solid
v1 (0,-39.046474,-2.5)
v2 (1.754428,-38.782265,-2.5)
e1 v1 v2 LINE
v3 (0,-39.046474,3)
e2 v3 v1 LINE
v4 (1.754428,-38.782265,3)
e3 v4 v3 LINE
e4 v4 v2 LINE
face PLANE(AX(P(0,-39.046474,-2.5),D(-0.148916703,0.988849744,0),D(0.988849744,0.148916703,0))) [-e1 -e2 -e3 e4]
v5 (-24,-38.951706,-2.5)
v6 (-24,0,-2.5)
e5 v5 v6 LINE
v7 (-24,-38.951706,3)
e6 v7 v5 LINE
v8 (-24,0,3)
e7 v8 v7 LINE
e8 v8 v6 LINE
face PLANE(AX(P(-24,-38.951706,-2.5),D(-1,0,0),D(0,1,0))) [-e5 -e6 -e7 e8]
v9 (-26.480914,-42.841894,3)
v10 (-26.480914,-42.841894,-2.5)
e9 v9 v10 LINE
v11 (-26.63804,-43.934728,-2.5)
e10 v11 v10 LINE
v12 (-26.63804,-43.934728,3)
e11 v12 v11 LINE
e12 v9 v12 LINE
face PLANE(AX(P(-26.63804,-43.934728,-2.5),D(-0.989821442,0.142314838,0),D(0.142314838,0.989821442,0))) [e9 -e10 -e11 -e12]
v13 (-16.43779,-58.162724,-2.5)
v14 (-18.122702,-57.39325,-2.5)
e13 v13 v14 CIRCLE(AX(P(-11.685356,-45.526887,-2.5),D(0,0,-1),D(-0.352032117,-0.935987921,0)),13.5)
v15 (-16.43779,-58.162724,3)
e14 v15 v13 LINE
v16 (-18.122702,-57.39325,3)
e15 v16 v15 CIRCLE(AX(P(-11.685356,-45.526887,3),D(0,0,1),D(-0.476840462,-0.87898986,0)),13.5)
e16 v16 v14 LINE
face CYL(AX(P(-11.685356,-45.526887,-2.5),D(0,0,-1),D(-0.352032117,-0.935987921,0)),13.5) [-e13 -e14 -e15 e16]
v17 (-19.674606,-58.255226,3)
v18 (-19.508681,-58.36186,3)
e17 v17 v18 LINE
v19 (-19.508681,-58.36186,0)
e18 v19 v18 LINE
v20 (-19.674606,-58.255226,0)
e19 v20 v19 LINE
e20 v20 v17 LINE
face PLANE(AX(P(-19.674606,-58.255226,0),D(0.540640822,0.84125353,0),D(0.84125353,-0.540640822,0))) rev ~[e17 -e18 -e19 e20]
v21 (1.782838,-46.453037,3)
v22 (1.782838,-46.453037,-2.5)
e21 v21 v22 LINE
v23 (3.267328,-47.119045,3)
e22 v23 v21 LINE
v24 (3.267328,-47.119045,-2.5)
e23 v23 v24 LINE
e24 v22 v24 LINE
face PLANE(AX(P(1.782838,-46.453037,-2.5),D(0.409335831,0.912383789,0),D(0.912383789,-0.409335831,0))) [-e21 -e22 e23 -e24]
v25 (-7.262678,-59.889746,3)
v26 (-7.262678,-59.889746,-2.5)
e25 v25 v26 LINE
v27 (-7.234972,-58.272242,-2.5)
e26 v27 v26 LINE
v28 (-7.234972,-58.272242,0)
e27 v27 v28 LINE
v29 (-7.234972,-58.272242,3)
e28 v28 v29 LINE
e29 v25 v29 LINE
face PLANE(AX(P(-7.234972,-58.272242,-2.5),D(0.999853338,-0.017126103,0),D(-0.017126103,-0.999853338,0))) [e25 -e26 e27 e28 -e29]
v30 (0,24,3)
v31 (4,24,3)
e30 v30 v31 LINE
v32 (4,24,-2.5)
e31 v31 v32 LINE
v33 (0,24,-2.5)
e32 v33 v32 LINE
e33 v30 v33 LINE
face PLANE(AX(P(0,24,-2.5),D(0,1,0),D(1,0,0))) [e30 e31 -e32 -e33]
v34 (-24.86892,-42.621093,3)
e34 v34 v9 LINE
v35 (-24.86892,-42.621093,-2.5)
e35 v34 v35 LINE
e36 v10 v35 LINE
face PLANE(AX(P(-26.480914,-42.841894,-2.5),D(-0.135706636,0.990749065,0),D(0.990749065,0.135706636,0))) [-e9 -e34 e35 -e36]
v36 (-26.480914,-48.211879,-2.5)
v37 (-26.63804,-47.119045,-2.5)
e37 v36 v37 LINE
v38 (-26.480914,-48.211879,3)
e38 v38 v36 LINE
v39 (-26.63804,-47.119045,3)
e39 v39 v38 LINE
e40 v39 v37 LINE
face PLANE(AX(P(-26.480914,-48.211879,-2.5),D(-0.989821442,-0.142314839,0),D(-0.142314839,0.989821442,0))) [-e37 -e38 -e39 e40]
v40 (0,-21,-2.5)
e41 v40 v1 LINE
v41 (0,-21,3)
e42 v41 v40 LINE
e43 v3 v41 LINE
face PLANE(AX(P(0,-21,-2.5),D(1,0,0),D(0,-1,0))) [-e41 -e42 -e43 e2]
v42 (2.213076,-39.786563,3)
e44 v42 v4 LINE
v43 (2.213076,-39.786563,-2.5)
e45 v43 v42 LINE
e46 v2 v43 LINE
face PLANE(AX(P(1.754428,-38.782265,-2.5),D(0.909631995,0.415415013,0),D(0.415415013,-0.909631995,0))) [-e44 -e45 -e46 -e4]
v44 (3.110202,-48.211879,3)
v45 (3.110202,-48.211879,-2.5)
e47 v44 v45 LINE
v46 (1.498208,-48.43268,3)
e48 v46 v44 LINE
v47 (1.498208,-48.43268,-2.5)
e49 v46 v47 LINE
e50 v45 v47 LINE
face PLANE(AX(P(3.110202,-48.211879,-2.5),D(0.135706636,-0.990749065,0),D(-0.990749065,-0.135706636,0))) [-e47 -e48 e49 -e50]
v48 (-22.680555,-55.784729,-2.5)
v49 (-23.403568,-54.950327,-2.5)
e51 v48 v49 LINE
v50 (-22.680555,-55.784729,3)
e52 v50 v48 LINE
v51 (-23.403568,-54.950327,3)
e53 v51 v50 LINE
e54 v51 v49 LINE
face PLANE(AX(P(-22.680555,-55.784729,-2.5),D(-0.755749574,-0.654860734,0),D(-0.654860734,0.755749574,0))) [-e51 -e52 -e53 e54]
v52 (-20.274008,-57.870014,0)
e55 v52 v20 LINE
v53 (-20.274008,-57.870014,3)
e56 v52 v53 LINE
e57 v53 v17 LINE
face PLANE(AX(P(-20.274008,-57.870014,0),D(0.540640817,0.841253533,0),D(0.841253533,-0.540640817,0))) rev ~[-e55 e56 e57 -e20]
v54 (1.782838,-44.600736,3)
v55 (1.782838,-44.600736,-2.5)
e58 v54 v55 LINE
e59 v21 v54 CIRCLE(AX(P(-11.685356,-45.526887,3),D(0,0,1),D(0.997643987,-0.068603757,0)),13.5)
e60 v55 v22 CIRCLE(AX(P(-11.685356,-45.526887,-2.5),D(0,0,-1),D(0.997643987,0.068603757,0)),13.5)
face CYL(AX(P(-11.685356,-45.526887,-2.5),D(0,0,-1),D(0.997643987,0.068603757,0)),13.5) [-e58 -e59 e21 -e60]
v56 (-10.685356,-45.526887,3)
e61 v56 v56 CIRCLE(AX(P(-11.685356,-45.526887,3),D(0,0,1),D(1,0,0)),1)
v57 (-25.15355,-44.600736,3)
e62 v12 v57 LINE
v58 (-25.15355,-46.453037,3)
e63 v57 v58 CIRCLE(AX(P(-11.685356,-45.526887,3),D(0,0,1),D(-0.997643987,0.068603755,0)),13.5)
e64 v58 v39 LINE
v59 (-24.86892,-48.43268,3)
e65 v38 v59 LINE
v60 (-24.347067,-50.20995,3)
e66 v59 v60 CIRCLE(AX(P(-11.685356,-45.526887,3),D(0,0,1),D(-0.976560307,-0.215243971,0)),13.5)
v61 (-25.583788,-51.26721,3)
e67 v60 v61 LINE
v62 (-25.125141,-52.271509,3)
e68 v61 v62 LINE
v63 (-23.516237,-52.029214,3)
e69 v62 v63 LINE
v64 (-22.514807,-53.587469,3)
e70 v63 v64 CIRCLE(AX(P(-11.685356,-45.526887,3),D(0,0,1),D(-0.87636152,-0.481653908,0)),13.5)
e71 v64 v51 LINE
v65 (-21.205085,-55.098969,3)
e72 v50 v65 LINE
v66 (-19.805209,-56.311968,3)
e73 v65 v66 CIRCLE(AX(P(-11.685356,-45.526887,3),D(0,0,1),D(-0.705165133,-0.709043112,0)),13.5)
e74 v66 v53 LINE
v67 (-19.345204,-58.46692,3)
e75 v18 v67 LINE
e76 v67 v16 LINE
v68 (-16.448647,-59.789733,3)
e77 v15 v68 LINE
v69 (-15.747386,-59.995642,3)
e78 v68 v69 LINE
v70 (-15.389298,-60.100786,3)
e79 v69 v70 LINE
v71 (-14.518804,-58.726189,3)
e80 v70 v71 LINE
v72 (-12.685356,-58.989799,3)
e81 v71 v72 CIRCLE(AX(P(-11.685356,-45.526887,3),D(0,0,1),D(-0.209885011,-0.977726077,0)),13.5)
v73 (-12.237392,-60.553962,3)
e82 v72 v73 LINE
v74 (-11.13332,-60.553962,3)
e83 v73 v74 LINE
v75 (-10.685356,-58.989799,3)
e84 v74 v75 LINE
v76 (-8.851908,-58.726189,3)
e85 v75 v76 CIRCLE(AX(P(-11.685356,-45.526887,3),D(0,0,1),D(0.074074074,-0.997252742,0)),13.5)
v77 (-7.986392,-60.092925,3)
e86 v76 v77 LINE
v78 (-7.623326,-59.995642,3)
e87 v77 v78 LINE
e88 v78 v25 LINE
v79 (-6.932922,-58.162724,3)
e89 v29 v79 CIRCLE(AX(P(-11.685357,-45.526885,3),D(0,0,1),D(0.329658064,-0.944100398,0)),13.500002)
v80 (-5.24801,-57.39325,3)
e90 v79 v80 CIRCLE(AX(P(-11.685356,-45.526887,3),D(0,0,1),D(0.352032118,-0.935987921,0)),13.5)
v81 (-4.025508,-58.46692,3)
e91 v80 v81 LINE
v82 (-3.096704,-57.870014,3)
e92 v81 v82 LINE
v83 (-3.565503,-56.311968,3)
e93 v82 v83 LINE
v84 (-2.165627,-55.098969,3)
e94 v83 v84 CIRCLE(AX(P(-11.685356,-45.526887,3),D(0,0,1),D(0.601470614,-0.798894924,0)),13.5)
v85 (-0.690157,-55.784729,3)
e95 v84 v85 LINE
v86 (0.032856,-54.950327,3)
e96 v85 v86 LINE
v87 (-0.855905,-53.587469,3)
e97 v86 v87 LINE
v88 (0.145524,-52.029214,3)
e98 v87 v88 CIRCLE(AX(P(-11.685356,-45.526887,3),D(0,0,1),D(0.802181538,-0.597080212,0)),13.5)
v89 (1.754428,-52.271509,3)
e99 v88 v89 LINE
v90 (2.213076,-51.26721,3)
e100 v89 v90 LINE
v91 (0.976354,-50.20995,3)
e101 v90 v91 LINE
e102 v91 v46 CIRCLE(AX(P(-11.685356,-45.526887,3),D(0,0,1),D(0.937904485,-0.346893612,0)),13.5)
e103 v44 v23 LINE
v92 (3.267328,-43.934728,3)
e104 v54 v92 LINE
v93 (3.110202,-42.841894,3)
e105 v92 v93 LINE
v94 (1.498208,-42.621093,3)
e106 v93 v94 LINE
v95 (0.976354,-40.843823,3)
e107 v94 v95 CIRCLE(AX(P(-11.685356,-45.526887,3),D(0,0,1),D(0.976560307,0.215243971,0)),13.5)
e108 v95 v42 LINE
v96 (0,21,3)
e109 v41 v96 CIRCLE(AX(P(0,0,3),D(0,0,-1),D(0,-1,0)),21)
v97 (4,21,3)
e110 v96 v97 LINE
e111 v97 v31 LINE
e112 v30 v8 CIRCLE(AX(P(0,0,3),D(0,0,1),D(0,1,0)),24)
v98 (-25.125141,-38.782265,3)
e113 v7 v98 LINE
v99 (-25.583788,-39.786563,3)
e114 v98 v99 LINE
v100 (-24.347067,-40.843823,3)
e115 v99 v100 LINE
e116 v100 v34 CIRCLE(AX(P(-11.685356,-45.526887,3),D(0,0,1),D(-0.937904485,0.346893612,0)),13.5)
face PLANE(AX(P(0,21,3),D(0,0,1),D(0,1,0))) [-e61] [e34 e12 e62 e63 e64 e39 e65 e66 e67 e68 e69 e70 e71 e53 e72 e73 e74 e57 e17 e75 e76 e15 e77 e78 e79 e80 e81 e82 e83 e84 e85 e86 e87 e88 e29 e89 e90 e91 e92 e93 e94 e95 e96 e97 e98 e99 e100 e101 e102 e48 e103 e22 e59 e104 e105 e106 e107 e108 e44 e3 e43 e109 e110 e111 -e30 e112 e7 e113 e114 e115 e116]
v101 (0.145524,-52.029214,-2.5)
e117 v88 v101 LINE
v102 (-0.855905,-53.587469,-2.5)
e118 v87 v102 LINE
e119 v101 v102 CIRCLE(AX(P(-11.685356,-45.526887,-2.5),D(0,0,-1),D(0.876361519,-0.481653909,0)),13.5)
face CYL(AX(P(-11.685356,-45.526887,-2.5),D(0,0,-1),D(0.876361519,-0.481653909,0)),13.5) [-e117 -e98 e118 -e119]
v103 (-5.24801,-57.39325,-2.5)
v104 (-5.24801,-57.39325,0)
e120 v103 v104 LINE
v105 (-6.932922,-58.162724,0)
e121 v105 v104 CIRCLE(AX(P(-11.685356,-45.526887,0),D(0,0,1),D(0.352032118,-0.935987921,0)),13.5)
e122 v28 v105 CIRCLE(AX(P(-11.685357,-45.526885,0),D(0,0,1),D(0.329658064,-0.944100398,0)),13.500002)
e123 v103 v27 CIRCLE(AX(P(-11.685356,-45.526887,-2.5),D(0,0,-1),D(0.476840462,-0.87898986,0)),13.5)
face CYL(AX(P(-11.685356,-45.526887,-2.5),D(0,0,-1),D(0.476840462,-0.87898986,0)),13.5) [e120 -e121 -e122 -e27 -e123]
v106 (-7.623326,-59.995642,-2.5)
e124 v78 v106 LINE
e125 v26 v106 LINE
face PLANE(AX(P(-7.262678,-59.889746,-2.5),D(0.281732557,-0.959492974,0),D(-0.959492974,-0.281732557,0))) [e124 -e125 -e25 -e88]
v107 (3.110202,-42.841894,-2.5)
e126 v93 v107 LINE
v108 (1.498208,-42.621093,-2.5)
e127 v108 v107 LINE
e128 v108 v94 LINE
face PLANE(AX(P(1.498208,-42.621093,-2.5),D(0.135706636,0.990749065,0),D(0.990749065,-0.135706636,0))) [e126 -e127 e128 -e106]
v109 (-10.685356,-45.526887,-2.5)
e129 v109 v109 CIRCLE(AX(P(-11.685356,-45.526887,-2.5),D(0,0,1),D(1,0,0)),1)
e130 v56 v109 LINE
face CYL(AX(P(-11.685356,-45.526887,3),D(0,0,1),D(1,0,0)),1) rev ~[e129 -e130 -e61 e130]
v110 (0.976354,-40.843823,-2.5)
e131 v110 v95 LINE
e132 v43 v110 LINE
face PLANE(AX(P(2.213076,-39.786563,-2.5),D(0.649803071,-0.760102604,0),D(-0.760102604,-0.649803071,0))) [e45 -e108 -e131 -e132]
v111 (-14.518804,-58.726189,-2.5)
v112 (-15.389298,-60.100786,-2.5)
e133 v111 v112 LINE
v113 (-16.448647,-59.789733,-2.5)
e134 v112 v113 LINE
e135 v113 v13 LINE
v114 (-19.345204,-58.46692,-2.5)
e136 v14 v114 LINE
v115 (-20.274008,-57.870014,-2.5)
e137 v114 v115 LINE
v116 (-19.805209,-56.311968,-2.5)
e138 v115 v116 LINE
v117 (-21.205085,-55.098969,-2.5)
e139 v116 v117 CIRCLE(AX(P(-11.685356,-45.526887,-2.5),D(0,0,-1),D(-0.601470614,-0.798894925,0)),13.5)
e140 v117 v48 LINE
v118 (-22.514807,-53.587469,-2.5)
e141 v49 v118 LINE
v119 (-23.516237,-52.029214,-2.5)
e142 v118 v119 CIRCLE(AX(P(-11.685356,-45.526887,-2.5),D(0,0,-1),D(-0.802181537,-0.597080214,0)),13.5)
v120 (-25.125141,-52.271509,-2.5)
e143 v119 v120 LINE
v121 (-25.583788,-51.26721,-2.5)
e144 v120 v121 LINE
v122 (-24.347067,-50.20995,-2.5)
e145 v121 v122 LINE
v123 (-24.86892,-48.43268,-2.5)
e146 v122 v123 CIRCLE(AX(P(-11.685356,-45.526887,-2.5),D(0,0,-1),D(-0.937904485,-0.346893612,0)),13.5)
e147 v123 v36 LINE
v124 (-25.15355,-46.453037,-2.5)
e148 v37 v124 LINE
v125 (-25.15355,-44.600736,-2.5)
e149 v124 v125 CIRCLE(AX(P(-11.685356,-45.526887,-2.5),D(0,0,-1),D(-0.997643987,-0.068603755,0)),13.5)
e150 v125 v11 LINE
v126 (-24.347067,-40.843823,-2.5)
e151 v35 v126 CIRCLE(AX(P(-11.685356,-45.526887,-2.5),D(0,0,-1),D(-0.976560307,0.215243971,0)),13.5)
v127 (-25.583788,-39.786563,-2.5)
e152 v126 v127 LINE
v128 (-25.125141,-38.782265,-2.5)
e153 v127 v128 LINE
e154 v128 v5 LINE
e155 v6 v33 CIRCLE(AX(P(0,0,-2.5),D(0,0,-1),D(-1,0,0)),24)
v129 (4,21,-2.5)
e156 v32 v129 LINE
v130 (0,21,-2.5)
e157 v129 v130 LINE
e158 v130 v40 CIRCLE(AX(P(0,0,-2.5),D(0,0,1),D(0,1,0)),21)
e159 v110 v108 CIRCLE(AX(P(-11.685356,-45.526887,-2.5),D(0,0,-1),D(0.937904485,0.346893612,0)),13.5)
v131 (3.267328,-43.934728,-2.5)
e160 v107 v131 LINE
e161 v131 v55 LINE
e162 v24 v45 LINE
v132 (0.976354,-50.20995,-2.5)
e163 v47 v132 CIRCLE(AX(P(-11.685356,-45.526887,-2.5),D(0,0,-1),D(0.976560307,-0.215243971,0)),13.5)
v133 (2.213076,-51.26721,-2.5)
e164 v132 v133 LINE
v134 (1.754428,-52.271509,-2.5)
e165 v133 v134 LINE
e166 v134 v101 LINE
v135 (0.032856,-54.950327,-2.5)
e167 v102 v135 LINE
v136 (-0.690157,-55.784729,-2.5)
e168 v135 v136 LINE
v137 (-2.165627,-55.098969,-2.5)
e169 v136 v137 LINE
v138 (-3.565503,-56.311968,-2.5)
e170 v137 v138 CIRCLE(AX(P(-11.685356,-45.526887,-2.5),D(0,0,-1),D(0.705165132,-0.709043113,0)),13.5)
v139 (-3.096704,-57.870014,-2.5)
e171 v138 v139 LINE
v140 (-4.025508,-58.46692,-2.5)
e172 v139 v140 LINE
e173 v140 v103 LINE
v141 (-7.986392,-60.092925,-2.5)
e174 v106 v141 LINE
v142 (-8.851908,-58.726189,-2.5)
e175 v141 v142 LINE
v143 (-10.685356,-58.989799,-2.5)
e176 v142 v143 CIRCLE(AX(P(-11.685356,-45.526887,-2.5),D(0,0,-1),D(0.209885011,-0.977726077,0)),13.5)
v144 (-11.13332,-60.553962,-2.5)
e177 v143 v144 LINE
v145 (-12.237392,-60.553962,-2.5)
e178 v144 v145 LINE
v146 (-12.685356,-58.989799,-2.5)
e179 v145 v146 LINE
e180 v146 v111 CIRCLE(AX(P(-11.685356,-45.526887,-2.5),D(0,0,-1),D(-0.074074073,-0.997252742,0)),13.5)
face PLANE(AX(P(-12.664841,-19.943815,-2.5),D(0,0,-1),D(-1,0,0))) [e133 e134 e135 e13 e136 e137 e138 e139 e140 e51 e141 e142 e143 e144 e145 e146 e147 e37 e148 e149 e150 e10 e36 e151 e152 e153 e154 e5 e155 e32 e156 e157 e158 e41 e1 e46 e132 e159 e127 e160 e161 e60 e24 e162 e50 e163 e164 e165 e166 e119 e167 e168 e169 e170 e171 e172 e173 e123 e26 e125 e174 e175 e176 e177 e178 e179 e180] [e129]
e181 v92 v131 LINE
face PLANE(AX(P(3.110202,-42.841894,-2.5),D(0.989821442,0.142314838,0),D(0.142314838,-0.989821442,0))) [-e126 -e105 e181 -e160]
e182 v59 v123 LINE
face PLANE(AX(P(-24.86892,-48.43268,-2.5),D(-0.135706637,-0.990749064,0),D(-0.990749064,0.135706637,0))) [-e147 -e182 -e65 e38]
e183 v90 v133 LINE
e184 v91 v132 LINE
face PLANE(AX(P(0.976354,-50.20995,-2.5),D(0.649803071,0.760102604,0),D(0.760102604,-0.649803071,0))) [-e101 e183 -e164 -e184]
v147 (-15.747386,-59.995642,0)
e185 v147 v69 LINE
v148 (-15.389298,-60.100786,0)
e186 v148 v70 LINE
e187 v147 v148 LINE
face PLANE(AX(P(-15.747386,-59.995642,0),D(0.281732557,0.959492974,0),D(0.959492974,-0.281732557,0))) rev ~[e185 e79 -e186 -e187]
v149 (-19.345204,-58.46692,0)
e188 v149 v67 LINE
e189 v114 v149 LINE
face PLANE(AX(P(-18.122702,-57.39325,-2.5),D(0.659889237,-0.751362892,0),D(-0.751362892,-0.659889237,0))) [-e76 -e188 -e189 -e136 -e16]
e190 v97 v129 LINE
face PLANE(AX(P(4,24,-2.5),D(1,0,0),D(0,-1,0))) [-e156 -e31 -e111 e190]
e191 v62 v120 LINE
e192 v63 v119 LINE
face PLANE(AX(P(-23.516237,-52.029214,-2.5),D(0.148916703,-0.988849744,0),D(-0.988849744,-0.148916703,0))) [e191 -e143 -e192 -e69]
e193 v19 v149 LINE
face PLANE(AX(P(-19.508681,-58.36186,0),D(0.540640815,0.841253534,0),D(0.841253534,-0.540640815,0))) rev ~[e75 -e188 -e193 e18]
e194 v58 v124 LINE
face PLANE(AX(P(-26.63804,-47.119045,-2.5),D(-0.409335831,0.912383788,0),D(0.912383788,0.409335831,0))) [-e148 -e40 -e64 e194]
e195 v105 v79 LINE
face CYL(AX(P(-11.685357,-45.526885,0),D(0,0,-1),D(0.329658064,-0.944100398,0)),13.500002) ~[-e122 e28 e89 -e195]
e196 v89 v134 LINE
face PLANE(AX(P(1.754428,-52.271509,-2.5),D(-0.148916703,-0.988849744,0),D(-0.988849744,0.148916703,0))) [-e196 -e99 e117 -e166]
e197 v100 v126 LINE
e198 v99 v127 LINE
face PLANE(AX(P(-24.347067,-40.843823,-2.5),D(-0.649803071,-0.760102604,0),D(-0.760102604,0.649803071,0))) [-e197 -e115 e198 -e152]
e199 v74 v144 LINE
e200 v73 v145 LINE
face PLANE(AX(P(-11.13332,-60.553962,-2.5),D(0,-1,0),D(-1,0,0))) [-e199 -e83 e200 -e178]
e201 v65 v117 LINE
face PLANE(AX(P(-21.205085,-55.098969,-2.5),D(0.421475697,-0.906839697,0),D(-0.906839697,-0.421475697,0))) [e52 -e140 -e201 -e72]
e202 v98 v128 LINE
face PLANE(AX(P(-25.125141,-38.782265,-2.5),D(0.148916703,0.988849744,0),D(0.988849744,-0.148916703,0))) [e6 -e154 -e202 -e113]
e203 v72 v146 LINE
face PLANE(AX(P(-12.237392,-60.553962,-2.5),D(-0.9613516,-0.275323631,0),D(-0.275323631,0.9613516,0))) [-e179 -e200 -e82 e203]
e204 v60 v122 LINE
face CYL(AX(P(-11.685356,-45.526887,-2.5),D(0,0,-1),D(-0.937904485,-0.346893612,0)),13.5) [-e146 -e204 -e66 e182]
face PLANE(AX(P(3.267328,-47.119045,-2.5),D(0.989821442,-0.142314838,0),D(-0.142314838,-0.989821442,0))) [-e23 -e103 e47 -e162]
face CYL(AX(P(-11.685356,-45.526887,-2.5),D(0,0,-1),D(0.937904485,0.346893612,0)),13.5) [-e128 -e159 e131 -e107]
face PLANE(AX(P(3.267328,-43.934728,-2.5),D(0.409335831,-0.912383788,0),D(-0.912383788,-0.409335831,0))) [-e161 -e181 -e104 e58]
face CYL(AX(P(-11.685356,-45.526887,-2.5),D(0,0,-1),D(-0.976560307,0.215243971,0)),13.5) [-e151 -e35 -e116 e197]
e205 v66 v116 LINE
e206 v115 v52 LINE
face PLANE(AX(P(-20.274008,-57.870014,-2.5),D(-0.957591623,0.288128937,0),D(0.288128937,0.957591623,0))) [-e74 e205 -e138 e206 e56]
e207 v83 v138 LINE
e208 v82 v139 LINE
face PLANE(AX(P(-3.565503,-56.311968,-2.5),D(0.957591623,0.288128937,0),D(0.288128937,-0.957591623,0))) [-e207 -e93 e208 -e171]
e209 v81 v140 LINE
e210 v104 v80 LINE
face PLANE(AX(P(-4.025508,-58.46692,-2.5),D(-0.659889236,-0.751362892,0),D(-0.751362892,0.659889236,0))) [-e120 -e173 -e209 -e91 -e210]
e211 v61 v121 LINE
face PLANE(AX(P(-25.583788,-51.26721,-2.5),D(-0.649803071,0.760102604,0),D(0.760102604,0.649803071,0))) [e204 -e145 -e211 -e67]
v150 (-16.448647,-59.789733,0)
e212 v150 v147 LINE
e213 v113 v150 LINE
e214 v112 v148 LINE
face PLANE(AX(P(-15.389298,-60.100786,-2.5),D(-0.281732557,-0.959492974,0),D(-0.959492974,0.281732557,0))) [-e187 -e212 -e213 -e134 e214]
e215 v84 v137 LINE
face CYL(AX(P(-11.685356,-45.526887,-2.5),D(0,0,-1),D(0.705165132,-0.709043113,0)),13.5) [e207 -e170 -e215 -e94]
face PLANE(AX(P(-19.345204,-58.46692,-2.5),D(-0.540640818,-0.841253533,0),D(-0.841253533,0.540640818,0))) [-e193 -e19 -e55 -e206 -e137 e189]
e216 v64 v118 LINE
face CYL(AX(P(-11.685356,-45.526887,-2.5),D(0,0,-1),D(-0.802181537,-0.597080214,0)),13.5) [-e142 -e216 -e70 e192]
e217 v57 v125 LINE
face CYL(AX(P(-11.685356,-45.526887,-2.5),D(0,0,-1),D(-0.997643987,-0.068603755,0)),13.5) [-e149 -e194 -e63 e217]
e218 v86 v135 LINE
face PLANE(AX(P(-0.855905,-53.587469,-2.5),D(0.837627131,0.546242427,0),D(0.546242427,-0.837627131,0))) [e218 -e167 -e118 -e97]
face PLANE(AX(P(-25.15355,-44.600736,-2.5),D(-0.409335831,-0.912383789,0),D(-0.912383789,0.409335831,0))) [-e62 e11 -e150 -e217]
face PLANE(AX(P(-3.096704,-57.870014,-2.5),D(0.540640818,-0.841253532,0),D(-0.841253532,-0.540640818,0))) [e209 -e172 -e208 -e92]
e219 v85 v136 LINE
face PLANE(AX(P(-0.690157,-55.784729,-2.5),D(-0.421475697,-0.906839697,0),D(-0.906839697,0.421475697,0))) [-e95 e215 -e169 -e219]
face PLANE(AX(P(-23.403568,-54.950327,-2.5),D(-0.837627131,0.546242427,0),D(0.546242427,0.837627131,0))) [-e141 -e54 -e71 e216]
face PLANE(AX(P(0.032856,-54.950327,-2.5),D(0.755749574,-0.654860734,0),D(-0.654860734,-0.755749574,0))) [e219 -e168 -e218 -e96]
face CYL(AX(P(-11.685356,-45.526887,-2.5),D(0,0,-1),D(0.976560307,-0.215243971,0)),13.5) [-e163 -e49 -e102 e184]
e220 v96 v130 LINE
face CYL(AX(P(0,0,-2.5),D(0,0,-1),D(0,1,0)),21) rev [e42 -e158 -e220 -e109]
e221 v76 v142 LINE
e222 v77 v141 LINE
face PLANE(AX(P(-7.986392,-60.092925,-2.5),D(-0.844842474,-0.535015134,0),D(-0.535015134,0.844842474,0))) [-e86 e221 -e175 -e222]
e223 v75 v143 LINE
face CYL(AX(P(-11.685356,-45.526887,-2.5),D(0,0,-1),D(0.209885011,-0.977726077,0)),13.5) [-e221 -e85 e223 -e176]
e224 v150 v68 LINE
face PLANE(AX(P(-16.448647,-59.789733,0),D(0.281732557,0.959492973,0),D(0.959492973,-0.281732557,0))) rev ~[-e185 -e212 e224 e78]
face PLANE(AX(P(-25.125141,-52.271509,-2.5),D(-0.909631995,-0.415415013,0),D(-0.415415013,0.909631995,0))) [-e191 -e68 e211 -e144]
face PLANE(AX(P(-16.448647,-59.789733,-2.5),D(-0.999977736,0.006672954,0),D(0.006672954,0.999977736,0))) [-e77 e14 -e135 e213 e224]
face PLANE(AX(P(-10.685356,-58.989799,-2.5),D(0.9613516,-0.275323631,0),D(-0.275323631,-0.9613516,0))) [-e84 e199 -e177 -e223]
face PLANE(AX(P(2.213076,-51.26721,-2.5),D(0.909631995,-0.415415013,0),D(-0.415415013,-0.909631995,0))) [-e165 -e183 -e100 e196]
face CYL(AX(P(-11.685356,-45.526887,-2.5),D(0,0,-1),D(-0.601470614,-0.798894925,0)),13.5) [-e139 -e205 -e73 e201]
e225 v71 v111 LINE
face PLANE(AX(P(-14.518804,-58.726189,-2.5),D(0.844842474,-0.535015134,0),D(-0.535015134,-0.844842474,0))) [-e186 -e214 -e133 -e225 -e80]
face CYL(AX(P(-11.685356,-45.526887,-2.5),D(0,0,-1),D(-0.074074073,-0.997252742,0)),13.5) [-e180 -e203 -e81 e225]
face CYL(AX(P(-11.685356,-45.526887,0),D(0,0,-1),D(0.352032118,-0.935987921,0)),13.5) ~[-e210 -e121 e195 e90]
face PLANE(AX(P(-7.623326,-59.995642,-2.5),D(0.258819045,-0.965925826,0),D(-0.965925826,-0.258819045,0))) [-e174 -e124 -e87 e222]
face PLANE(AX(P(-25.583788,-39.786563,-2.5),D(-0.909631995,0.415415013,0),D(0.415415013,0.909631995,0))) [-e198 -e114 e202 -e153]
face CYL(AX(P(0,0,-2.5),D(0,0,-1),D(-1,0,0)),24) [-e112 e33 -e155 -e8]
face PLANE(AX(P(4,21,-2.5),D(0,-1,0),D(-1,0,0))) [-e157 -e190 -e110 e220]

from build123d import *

# Parameters (mm, degrees)
BOSS_EXTRUDE1_DEPTH = 3
SKETCH3_W           = 3
SKETCH3_H           = 3
BOSS_EXTRUDE2_DEPTH = 4
BOSS_EXTRUDE3_START = 2.5
BOSS_EXTRUDE3_DEPTH = 2.5
CUT_EXTRUDE1_REACH  = 68.382
SKETCH5_R           = 1


with BuildPart() as part:
    # Sketch1 → Boss-Extrude1 (new body)
    with BuildSketch(Plane.XY):
        with BuildLine():
            ThreePointArc((0, -21), (-21, 0), (0, 21))
            Line((0, 21), (0, 24))
            ThreePointArc((0, 24), (-16.970562748, 16.970562748), (-24, 0))
            Line((-24, 0), (-24, -38.951706039))
            Line((-24, -38.951706039), (-25.1251405, -38.782264509))
            Line((-25.1251405, -38.782264509), (-25.583788433, -39.786563393))
            Line((-25.583788433, -39.786563393), (-24.347066616, -40.843822809))
            ThreePointArc((-24.347066616, -40.843822809), (-24.638511224, -41.723497067), (-24.868920228, -42.621092996))
            Line((-24.868920228, -42.621092996), (-26.480914421, -42.841893921))
            Line((-26.480914421, -42.841893921), (-26.638040197, -43.934727699))
            Line((-26.638040197, -43.934727699), (-25.153549904, -44.60073588))
            ThreePointArc((-25.153549904, -44.60073588), (-25.18535608, -45.526886585), (-25.153549904, -46.453037289))
            Line((-25.153549904, -46.453037289), (-26.638040197, -47.119045471))
            Line((-26.638040197, -47.119045471), (-26.48091442, -48.211879248))
            Line((-26.48091442, -48.211879248), (-24.868920228, -48.432680173))
            ThreePointArc((-24.868920228, -48.432680173), (-24.638511224, -49.330276102), (-24.347066616, -50.20995036))
            Line((-24.347066616, -50.20995036), (-25.583788433, -51.267209776))
            Line((-25.583788433, -51.267209776), (-25.1251405, -52.271508661))
            Line((-25.1251405, -52.271508661), (-23.516236589, -52.029214351))
            ThreePointArc((-23.516236589, -52.029214351), (-23.042278774, -52.82553762), (-22.514806841, -53.587469455))
            Line((-22.514806841, -53.587469455), (-23.403568337, -54.950327236))
            Line((-23.403568337, -54.950327236), (-22.680555175, -55.784728904))
            Line((-22.680555175, -55.784728904), (-21.205085373, -55.098968604))
            ThreePointArc((-21.205085373, -55.098968604), (-20.525975989, -55.729505838), (-19.805209372, -56.311968064))
            Line((-19.805209372, -56.311968064), (-20.274008375, -57.870013577))
            Line((-20.274008375, -57.870013577), (-19.674605945, -58.255226128))
            Line((-19.674605945, -58.255226128), (-19.50868057, -58.361859893))
            Line((-19.50868057, -58.361859893), (-19.345204211, -58.466919769))
            Line((-19.345204211, -58.466919769), (-18.122702306, -57.393249699))
            ThreePointArc((-18.122702306, -57.393249699), (-17.293458756, -57.806918522), (-16.437789679, -58.162723513))
            Line((-16.437789679, -58.162723513), (-16.448646882, -59.789733177))
            Line((-16.448646882, -59.789733177), (-15.747386057, -59.995641934))
            Line((-15.747386057, -59.995641934), (-15.389297906, -60.100786102))
            Line((-15.389297906, -60.100786102), (-14.518803732, -58.726188627))
            ThreePointArc((-14.518803732, -58.726188627), (-13.606606397, -58.88947605), (-12.68535608, -58.989798602))
            Line((-12.68535608, -58.989798602), (-12.237391898, -60.553961771))
            Line((-12.237391898, -60.553961771), (-11.133320263, -60.553961771))
            Line((-11.133320263, -60.553961771), (-10.68535608, -58.989798602))
            ThreePointArc((-10.68535608, -58.989798602), (-9.764105764, -58.88947605), (-8.851908429, -58.726188627))
            Line((-8.851908429, -58.726188627), (-7.986392322, -60.092925234))
            Line((-7.986392322, -60.092925234), (-7.623326104, -59.995641934))
            Line((-7.623326104, -59.995641934), (-7.262677826, -59.889746045))
            Line((-7.262677826, -59.889746045), (-7.234972221, -58.272241954))
            ThreePointArc((-7.234972221, -58.272241954), (-7.083621531, -58.21838134), (-6.932922481, -58.162723513))
            ThreePointArc((-6.932922481, -58.162723513), (-6.077253405, -57.806918522), (-5.248009855, -57.393249699))
            Line((-5.248009855, -57.393249699), (-4.025507949, -58.466919769))
            Line((-4.025507949, -58.466919769), (-3.096703786, -57.870013577))
            Line((-3.096703786, -57.870013577), (-3.565502789, -56.311968064))
            ThreePointArc((-3.565502789, -56.311968064), (-2.844736172, -55.729505838), (-2.165626787, -55.098968604))
            Line((-2.165626787, -55.098968604), (-0.690156985, -55.784728904))
            Line((-0.690156985, -55.784728904), (0.032856176, -54.950327236))
            Line((0.032856176, -54.950327236), (-0.855905319, -53.587469455))
            ThreePointArc((-0.855905319, -53.587469455), (-0.328433387, -52.82553762), (0.145524429, -52.029214351))
            Line((0.145524429, -52.029214351), (1.754428339, -52.27150866))
            Line((1.754428339, -52.27150866), (2.213076272, -51.267209776))
            Line((2.213076272, -51.267209776), (0.976354455, -50.20995036))
            ThreePointArc((0.976354455, -50.20995036), (1.267799063, -49.330276102), (1.498208067, -48.432680173))
            Line((1.498208067, -48.432680173), (3.11020226, -48.211879248))
            Line((3.11020226, -48.211879248), (3.267328036, -47.11904547))
            Line((3.267328036, -47.11904547), (1.782837743, -46.453037289))
            ThreePointArc((1.782837743, -46.453037289), (1.81464392, -45.526886584), (1.782837743, -44.60073588))
            Line((1.782837743, -44.60073588), (3.267328036, -43.934727698))
            Line((3.267328036, -43.934727698), (3.11020226, -42.84189392))
            Line((3.11020226, -42.84189392), (1.498208067, -42.621092996))
            ThreePointArc((1.498208067, -42.621092996), (1.267799063, -41.723497067), (0.976354455, -40.843822809))
            Line((0.976354455, -40.843822809), (2.213076272, -39.786563393))
            Line((2.213076272, -39.786563393), (1.754428339, -38.782264508))
            Line((1.754428339, -38.782264508), (0, -39.046474198))
            Line((0, -39.046474198), (0, -36.153828735))
            Line((0, -36.153828735), (0, -36.065527885))
            Line((0, -36.065527885), (0, -21))
        make_face()
    extrude(amount=BOSS_EXTRUDE1_DEPTH)

    # Sketch3 → Boss-Extrude2 (add)
    with BuildSketch(Plane(origin=(0, 0, 0), x_dir=(0, 0, -1), z_dir=(1, 0, 0))):
        with Locations((-1.5, 22.5)):
            Rectangle(SKETCH3_W, SKETCH3_H)
    extrude(amount=BOSS_EXTRUDE2_DEPTH)

    # Sketch4 → Boss-Extrude3 (add)
    with BuildSketch(Plane(origin=(0, 0, 0), x_dir=(-1, 0, 0), z_dir=(0, 0, -1)).offset(BOSS_EXTRUDE3_START)):
        with BuildLine():
            Line((-1.498208067, -42.621092996), (-3.11020226, -42.84189392))
            Line((-3.11020226, -42.84189392), (-3.267328036, -43.934727698))
            Line((-3.267328036, -43.934727698), (-1.782837743, -44.60073588))
            ThreePointArc((-1.782837743, -44.60073588), (-1.81464392, -45.526886584), (-1.782837743, -46.453037289))
            Line((-1.782837743, -46.453037289), (-3.267328036, -47.11904547))
            Line((-3.267328036, -47.11904547), (-3.11020226, -48.211879248))
            Line((-3.11020226, -48.211879248), (-1.498208067, -48.432680173))
            ThreePointArc((-1.498208067, -48.432680173), (-1.267799063, -49.330276102), (-0.976354455, -50.20995036))
            Line((-0.976354455, -50.20995036), (-2.213076272, -51.267209776))
            Line((-2.213076272, -51.267209776), (-1.754428339, -52.27150866))
            Line((-1.754428339, -52.27150866), (-0.145524429, -52.029214351))
            ThreePointArc((-0.145524429, -52.029214351), (0.328433387, -52.82553762), (0.855905319, -53.587469455))
            Line((0.855905319, -53.587469455), (-0.032856176, -54.950327236))
            Line((-0.032856176, -54.950327236), (0.690156985, -55.784728904))
            Line((0.690156985, -55.784728904), (2.165626787, -55.098968604))
            ThreePointArc((2.165626787, -55.098968604), (2.844736172, -55.729505838), (3.565502789, -56.311968064))
            Line((3.565502789, -56.311968064), (3.096703786, -57.870013577))
            Line((3.096703786, -57.870013577), (4.025507949, -58.466919769))
            Line((4.025507949, -58.466919769), (5.248009855, -57.393249699))
            ThreePointArc((5.248009855, -57.393249699), (6.223779069, -57.872783739), (7.234972221, -58.272241954))
            Line((7.234972221, -58.272241954), (7.262677826, -59.889746045))
            Line((7.262677826, -59.889746045), (7.623326104, -59.995641934))
            Line((7.623326104, -59.995641934), (7.986392322, -60.092925234))
            Line((7.986392322, -60.092925234), (8.851908429, -58.726188627))
            ThreePointArc((8.851908429, -58.726188627), (9.764105764, -58.88947605), (10.68535608, -58.989798602))
            Line((10.68535608, -58.989798602), (11.133320263, -60.553961771))
            Line((11.133320263, -60.553961771), (12.237391898, -60.553961771))
            Line((12.237391898, -60.553961771), (12.68535608, -58.989798602))
            ThreePointArc((12.68535608, -58.989798602), (13.606606397, -58.88947605), (14.518803732, -58.726188627))
            Line((14.518803732, -58.726188627), (15.389297906, -60.100786102))
            Line((15.389297906, -60.100786102), (16.448646882, -59.789733177))
            Line((16.448646882, -59.789733177), (16.437789679, -58.162723513))
            ThreePointArc((16.437789679, -58.162723513), (17.293458756, -57.806918522), (18.122702306, -57.393249699))
            Line((18.122702306, -57.393249699), (19.345204211, -58.466919769))
            Line((19.345204211, -58.466919769), (20.274008375, -57.870013577))
            Line((20.274008375, -57.870013577), (19.805209372, -56.311968064))
            ThreePointArc((19.805209372, -56.311968064), (20.525975989, -55.729505838), (21.205085373, -55.098968604))
            Line((21.205085373, -55.098968604), (22.680555175, -55.784728904))
            Line((22.680555175, -55.784728904), (23.403568337, -54.950327236))
            Line((23.403568337, -54.950327236), (22.514806841, -53.587469455))
            ThreePointArc((22.514806841, -53.587469455), (23.042278774, -52.82553762), (23.516236589, -52.029214351))
            Line((23.516236589, -52.029214351), (25.1251405, -52.271508661))
            Line((25.1251405, -52.271508661), (25.583788433, -51.267209776))
            Line((25.583788433, -51.267209776), (24.347066616, -50.20995036))
            ThreePointArc((24.347066616, -50.20995036), (24.638511224, -49.330276102), (24.868920228, -48.432680173))
            Line((24.868920228, -48.432680173), (26.48091442, -48.211879248))
            Line((26.48091442, -48.211879248), (26.638040197, -47.119045471))
            Line((26.638040197, -47.119045471), (25.153549904, -46.453037289))
            ThreePointArc((25.153549904, -46.453037289), (25.18535608, -45.526886585), (25.153549904, -44.60073588))
            Line((25.153549904, -44.60073588), (26.638040197, -43.934727699))
            Line((26.638040197, -43.934727699), (26.480914421, -42.841893921))
            Line((26.480914421, -42.841893921), (24.868920228, -42.621092996))
            ThreePointArc((24.868920228, -42.621092996), (24.638511224, -41.723497067), (24.347066616, -40.843822809))
            Line((24.347066616, -40.843822809), (25.583788433, -39.786563393))
            Line((25.583788433, -39.786563393), (25.1251405, -38.782264509))
            Line((25.1251405, -38.782264509), (24, -38.951706039))
            Line((24, -38.951706039), (24, 0))
            ThreePointArc((24, 0), (16.970562748, 16.970562748), (0, 24))
            Line((0, 24), (-4, 24))
            Line((-4, 24), (-4, 21))
            Line((-4, 21), (0, 21))
            ThreePointArc((0, 21), (21, 0), (0, -21))
            Line((0, -21), (0, -39.046474198))
            Line((0, -39.046474198), (-1.754428339, -38.782264508))
            Line((-1.754428339, -38.782264508), (-2.213076272, -39.786563393))
            Line((-2.213076272, -39.786563393), (-0.976354455, -40.843822809))
            ThreePointArc((-0.976354455, -40.843822809), (-1.267799063, -41.723497067), (-1.498208067, -42.621092996))
        make_face()
    extrude(amount=-BOSS_EXTRUDE3_DEPTH)

    # Sketch5 → Cut-Extrude1 (cut, up to next)
    with BuildSketch(Plane.XY.offset(3), mode=Mode.PRIVATE) as cut_extrude1_sk1:
        with Locations((-11.68535608, -45.526886584)):
            Circle(SKETCH5_R)
    cut_extrude1_tool1 = extrude(cut_extrude1_sk1.sketch, amount=-CUT_EXTRUDE1_REACH, mode=Mode.PRIVATE) & part.part
    add(cut_extrude1_tool1.solids().sort_by_distance((-11.685356, -45.526887, 3))[0], mode=Mode.SUBTRACT)


solid = part.part
